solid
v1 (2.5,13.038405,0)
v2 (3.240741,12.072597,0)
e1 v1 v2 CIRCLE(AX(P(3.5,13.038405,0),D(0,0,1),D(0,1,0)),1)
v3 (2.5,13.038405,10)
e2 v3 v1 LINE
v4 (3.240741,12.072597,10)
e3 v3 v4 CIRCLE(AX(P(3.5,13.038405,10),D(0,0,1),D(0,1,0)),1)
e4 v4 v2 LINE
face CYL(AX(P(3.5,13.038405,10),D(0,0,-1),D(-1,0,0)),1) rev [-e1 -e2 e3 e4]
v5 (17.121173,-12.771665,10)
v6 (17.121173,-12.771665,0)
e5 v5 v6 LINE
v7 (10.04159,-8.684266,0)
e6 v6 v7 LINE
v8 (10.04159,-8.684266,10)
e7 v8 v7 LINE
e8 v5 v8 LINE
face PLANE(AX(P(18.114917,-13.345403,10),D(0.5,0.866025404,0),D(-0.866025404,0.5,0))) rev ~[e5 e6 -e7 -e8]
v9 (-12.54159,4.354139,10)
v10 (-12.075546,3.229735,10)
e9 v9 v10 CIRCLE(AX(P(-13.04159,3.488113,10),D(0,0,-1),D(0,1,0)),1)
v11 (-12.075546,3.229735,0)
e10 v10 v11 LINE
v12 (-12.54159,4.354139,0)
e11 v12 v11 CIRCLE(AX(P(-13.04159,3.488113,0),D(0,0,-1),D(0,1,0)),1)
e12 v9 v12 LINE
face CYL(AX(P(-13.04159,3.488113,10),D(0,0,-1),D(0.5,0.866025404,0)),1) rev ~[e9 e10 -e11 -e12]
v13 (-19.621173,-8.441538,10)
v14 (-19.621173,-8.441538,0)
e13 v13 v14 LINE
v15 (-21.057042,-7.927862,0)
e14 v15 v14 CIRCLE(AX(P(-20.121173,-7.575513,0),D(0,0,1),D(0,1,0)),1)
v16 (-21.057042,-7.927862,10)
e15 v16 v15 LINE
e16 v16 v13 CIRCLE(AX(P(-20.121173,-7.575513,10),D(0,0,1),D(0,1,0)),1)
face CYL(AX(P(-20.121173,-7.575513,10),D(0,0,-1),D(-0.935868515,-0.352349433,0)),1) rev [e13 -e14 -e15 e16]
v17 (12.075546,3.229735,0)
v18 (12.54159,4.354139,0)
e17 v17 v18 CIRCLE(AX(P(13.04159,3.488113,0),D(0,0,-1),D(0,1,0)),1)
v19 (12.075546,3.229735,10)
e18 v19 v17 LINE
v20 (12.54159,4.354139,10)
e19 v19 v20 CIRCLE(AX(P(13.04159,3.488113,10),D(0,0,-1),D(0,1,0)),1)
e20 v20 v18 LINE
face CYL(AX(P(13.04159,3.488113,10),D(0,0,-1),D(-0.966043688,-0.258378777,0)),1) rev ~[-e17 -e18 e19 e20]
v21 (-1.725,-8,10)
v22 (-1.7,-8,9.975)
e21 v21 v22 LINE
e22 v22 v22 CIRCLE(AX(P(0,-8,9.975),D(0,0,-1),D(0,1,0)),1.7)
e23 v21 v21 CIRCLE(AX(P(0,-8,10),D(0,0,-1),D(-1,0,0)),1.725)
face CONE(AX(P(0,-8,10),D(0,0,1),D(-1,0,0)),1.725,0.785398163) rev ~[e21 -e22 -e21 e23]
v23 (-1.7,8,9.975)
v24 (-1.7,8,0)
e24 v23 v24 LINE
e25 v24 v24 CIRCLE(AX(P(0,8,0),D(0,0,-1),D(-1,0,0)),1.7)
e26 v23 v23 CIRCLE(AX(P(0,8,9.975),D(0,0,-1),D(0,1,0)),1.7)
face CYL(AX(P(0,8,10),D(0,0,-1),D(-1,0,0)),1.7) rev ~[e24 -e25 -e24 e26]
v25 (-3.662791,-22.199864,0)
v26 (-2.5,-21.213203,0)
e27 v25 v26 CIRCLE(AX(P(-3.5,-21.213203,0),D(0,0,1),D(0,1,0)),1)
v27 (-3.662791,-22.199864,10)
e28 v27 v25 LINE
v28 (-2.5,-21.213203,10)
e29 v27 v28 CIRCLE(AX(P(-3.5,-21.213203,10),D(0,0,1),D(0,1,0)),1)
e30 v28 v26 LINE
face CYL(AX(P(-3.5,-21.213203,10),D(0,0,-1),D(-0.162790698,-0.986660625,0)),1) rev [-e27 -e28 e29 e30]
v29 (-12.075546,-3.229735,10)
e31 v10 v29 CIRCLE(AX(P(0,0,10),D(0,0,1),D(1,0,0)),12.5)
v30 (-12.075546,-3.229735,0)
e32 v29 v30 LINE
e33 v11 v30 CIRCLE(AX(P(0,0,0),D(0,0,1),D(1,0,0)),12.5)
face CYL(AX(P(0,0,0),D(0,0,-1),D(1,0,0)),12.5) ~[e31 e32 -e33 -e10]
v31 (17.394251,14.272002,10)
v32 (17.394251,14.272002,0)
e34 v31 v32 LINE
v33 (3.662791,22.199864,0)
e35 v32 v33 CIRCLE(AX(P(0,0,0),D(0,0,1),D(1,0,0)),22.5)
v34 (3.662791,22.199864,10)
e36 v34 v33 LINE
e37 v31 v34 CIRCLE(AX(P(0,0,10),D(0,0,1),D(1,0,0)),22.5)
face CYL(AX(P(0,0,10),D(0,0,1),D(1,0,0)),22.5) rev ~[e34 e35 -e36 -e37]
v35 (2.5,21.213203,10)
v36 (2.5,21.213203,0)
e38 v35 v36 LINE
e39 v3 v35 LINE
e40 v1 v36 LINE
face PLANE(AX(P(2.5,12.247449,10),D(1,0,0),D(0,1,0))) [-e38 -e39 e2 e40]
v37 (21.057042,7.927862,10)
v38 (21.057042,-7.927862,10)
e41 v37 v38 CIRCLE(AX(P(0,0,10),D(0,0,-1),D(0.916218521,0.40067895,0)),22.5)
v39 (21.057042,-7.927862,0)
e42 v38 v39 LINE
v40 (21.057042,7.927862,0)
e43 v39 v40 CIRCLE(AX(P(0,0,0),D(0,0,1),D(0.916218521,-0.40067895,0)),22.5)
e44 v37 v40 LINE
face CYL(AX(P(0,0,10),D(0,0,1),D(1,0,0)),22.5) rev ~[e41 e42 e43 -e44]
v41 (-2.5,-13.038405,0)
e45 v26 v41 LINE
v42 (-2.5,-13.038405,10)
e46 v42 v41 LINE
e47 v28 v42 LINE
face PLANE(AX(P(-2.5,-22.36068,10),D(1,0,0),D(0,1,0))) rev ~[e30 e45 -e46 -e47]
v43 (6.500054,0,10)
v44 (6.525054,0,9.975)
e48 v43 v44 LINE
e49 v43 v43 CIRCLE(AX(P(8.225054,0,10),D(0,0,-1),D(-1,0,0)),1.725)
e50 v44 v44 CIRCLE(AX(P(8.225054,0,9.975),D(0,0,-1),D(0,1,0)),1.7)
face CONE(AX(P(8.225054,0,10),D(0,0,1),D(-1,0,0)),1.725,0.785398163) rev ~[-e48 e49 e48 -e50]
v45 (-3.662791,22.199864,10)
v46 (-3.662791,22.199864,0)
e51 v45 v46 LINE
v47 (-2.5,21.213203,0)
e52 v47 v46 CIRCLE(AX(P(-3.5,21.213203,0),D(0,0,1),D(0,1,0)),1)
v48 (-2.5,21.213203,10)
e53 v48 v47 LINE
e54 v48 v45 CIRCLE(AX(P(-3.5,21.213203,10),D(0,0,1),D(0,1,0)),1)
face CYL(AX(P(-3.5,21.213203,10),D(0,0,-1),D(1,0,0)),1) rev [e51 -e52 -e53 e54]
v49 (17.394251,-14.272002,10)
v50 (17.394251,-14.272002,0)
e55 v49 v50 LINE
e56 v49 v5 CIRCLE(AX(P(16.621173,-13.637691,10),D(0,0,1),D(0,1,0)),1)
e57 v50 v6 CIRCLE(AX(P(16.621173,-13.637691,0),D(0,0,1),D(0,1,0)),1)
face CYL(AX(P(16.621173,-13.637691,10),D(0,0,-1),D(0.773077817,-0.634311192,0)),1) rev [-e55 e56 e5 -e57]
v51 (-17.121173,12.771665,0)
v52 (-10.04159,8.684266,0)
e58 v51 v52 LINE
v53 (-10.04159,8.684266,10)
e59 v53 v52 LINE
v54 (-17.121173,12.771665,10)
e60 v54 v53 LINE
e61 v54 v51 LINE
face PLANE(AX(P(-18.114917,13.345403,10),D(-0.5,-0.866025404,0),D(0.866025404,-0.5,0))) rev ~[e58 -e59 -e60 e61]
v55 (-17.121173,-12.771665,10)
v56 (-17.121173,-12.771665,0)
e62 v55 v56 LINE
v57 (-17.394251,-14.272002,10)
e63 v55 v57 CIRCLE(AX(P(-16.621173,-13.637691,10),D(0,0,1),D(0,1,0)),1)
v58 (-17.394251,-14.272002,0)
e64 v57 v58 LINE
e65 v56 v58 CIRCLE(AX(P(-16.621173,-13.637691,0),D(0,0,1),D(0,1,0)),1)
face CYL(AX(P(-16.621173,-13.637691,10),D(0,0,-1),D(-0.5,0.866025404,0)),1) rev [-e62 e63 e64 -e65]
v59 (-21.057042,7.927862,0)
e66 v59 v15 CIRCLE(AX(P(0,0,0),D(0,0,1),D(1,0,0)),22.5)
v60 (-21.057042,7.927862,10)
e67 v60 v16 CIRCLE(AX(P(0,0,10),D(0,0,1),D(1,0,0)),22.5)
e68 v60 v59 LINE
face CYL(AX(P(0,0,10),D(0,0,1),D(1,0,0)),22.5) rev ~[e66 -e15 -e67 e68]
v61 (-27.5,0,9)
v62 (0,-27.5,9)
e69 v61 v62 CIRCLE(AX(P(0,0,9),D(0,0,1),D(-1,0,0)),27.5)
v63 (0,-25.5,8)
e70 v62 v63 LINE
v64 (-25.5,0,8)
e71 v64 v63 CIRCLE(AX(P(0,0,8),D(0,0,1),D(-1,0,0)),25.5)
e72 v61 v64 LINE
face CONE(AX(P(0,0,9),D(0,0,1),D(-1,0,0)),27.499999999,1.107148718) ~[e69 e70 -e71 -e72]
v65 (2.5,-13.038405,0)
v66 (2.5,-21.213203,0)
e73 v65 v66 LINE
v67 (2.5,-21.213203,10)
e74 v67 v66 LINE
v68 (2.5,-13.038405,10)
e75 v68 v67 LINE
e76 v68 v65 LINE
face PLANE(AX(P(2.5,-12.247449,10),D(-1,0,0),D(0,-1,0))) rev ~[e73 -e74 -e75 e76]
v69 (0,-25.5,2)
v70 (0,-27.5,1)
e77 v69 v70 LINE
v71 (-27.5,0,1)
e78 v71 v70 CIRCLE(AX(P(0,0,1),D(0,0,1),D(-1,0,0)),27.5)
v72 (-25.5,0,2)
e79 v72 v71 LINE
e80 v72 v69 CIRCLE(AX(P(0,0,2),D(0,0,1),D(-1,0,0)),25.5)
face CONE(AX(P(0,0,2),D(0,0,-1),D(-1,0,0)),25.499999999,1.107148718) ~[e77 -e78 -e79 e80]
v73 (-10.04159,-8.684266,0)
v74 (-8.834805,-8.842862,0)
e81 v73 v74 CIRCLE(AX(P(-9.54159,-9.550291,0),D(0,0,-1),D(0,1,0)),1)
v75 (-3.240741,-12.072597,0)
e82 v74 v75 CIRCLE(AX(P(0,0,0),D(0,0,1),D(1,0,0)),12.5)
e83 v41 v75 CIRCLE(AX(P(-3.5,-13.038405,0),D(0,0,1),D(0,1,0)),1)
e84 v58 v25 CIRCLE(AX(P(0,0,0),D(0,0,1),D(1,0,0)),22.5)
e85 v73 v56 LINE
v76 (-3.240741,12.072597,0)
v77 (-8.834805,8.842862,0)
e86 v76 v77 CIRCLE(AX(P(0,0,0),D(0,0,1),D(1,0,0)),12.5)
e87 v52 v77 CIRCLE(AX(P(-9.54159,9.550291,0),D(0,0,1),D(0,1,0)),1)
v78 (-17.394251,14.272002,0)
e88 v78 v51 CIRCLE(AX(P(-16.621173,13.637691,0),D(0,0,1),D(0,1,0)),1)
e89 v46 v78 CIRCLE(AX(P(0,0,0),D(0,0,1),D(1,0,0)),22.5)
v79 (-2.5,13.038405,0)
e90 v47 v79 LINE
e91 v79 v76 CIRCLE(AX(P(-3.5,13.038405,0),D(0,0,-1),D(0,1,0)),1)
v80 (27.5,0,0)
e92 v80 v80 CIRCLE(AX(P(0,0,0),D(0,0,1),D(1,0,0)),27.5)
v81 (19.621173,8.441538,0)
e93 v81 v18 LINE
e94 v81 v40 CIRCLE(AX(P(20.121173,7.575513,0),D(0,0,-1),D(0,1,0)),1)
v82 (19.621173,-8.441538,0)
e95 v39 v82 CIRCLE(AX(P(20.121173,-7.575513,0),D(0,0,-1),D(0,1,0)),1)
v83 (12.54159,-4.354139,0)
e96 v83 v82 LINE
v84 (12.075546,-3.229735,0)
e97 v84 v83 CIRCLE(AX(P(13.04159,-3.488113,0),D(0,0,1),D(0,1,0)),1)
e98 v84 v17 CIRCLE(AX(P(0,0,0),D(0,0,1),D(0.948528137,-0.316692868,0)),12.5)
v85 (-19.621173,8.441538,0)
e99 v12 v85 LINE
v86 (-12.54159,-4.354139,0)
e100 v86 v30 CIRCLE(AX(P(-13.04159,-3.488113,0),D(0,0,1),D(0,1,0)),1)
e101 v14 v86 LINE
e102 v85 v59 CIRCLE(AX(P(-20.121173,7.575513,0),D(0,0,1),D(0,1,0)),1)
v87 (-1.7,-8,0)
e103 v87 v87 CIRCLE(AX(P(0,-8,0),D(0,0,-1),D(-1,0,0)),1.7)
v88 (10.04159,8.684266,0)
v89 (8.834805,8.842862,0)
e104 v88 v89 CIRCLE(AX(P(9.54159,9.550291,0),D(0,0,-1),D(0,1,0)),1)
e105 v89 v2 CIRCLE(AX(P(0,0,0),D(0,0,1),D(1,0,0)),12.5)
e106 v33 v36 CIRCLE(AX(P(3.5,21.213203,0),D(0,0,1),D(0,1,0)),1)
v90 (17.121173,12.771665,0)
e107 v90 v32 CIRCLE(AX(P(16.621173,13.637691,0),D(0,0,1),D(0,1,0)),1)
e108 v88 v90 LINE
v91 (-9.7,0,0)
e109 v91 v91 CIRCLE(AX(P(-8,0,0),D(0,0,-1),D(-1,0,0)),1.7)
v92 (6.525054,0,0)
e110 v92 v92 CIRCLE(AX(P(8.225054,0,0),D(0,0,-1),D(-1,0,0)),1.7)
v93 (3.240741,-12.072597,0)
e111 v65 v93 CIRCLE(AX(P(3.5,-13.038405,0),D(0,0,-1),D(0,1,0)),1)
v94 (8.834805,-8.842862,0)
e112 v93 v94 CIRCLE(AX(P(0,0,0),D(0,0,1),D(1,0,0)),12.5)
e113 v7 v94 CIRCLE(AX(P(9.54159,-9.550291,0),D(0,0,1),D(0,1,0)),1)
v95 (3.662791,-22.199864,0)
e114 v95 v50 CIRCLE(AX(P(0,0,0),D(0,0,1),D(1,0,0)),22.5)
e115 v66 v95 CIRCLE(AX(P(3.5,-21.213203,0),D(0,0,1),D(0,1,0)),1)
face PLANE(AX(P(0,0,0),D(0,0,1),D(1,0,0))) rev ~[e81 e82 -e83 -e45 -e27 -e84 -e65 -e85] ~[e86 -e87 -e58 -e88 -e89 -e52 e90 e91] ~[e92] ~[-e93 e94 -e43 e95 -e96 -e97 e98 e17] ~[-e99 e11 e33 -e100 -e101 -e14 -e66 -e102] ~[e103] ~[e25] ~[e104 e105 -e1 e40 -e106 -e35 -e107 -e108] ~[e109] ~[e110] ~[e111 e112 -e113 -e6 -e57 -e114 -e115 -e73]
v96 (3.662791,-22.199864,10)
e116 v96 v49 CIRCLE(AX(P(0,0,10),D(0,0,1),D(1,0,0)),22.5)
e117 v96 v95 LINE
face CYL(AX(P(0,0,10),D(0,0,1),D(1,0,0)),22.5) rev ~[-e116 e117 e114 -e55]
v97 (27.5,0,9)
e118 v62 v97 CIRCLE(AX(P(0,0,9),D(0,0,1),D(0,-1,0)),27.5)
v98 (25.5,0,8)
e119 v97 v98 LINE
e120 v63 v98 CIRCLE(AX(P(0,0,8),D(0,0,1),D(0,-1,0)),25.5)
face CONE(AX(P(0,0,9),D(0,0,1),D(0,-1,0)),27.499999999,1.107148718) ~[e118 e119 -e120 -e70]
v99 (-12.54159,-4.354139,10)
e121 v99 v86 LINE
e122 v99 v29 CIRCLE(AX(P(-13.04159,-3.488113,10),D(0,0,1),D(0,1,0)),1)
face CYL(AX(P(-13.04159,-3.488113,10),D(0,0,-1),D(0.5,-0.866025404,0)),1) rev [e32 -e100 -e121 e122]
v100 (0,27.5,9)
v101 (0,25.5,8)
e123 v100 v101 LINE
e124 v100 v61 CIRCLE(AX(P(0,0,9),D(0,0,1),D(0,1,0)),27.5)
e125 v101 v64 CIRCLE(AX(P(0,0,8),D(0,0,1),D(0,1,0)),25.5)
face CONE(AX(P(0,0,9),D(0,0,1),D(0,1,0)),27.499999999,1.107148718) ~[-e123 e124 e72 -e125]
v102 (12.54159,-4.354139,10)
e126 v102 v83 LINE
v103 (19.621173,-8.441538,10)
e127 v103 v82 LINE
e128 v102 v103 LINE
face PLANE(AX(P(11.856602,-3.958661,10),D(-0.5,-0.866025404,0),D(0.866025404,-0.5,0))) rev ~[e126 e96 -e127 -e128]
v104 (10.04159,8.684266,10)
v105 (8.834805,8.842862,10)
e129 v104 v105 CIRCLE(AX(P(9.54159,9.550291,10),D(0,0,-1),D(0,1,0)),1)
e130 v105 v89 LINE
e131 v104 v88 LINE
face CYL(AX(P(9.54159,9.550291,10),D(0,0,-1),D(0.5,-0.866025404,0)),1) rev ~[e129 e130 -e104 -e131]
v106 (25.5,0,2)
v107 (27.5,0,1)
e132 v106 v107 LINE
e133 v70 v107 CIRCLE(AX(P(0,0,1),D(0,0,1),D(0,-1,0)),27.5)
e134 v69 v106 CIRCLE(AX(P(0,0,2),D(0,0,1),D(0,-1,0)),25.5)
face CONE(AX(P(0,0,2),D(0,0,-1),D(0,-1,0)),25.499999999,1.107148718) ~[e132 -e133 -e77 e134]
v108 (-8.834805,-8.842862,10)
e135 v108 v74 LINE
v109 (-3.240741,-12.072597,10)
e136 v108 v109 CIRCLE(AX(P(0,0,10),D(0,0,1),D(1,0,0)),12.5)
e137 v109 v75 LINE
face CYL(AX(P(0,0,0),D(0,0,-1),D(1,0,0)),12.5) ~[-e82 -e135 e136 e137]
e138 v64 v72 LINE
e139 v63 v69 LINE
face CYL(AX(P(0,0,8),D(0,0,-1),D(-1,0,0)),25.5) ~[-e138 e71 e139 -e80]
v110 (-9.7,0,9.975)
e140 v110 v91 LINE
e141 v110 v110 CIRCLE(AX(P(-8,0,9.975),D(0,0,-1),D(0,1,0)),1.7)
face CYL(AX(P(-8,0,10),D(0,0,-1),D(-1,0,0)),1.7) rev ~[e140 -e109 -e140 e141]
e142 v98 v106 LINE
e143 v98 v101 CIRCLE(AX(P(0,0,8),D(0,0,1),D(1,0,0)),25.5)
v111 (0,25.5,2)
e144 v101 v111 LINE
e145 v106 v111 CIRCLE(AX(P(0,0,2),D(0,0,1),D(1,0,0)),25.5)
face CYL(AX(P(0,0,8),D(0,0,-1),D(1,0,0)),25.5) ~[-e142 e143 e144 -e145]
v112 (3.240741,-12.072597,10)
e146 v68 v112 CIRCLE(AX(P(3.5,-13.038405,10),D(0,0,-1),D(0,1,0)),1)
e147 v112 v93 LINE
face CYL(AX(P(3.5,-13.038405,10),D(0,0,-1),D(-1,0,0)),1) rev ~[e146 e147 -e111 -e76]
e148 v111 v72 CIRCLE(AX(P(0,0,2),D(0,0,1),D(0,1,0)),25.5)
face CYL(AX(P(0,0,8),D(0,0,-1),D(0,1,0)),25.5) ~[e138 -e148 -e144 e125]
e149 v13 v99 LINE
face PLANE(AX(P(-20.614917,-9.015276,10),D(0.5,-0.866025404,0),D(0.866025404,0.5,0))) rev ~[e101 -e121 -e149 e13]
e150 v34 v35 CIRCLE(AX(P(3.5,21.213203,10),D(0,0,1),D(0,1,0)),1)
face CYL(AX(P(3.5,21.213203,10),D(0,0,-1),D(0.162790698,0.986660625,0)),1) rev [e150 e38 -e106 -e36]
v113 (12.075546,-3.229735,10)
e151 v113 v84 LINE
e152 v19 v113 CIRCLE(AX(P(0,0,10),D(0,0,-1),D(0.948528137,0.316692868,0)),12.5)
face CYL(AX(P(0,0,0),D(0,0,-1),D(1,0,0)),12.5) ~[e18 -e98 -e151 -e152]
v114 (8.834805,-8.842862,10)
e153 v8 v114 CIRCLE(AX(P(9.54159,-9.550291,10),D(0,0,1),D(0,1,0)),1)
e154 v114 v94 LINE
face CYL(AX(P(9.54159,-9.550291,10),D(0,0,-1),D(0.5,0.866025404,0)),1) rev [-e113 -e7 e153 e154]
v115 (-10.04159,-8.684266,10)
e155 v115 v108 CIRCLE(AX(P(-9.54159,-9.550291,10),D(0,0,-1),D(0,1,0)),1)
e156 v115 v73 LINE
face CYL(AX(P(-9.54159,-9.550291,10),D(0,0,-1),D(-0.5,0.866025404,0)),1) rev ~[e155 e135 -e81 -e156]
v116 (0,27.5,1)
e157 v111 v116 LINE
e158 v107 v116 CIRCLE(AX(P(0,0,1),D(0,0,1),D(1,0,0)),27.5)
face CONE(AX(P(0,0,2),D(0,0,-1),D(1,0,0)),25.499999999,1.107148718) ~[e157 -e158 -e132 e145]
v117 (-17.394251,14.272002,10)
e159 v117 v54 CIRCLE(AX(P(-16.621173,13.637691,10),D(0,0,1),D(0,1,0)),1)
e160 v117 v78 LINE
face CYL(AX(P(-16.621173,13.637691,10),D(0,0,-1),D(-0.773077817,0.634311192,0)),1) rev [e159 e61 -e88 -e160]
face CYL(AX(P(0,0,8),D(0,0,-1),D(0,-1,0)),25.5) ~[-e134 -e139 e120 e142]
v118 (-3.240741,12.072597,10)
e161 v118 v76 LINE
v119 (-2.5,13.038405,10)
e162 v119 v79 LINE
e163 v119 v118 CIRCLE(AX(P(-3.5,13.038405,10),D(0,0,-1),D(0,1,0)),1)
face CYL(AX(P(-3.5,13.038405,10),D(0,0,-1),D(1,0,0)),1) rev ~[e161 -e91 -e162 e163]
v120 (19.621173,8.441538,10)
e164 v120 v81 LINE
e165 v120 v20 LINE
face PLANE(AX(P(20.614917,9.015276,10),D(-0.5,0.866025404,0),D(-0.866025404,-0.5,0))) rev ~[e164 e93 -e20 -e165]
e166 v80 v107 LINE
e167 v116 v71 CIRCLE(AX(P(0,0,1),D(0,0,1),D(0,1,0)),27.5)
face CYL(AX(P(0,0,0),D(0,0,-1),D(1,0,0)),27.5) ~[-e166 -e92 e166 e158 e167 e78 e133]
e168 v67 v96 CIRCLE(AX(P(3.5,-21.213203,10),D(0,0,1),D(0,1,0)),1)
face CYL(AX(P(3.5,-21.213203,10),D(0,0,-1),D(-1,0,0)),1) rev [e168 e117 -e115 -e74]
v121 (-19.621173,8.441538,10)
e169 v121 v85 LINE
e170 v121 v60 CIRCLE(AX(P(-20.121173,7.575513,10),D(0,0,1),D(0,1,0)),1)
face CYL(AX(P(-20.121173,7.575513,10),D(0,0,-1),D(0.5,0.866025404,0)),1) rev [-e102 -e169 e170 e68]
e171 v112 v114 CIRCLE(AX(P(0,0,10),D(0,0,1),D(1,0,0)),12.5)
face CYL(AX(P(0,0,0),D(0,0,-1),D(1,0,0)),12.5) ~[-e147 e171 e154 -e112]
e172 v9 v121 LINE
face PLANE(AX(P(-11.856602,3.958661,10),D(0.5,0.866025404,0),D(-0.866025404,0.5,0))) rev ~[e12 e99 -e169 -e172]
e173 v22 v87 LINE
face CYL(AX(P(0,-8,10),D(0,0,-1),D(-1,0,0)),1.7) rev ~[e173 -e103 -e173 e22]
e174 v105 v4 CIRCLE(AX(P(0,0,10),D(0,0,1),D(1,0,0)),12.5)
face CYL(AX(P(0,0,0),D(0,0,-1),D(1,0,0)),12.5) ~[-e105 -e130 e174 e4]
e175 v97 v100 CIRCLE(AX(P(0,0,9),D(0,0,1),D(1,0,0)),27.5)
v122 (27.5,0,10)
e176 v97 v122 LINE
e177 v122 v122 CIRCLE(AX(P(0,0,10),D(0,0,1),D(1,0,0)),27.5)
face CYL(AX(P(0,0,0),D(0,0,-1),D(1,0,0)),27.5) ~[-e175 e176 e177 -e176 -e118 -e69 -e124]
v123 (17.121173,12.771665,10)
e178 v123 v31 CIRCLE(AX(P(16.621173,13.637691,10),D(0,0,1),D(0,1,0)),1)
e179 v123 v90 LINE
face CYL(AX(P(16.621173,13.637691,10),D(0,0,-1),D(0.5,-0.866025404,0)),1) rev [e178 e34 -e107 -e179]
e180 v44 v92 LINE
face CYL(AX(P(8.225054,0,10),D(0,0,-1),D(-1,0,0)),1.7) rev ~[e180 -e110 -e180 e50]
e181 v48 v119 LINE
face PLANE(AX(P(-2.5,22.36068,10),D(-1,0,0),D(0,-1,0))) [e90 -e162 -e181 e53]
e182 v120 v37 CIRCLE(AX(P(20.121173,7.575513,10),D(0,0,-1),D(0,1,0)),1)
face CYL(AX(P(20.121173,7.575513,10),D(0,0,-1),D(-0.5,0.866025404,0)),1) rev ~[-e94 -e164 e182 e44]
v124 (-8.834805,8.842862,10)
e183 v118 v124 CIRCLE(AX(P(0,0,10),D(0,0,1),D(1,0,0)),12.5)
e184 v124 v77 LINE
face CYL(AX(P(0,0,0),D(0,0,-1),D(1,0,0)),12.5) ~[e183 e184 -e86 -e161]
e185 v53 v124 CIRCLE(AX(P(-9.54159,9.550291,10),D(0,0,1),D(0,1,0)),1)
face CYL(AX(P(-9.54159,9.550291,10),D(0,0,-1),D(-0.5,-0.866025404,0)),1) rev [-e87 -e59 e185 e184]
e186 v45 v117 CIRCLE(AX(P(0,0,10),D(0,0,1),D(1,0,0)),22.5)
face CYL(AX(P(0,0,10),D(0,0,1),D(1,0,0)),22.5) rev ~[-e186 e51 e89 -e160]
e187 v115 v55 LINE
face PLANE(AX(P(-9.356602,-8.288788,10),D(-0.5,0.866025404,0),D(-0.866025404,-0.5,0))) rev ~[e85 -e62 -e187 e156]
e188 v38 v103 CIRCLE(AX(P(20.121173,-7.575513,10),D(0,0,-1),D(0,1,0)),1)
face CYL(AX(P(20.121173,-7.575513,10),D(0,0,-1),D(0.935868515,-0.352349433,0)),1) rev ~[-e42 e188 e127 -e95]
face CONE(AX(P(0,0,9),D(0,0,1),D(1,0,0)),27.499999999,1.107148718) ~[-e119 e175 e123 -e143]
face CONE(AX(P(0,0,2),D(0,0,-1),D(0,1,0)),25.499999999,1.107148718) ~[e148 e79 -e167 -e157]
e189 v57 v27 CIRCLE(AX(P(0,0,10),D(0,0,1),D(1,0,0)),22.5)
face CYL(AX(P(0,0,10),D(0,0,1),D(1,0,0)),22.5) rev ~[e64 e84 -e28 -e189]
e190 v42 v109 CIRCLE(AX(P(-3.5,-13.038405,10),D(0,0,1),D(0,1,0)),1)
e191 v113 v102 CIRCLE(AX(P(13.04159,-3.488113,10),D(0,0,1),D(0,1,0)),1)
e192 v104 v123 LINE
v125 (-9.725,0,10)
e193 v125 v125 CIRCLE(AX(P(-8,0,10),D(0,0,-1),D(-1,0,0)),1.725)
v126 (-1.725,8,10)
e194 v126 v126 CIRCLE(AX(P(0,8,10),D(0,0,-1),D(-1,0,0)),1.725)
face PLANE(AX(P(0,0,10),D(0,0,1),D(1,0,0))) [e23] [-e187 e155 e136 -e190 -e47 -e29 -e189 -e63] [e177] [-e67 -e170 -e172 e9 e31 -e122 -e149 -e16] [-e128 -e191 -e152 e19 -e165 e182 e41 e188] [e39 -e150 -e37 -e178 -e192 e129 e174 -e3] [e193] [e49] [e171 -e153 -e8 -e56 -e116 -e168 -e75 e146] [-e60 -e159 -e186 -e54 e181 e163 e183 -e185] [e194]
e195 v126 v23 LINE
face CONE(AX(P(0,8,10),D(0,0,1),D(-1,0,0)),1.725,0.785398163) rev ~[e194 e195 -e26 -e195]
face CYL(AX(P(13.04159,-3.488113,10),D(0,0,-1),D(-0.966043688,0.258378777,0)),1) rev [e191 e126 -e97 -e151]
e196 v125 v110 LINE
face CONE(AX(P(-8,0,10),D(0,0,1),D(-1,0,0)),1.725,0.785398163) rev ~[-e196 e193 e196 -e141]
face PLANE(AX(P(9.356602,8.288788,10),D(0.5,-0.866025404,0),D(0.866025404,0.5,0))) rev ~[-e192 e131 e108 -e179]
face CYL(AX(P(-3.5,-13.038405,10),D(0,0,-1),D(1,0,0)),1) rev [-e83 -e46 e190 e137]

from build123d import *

# Parameters (mm, degrees)
SKETCH_1_R                  = 27.5
EXTRUDE_1_DEPTH             = 10
CUT_EXTRUDE_1_REACH         = 42.156
SKETCH_2_R                  = 22.5
SKETCH_3_R                  = 12.5
EXTRUDE_2_DEPTH             = 10
EXTRUDE_START               = 10
EXTRUDE_3_DEPTH             = 10
HOLE_WIZARD_M32_D           = 3.4
HOLE_WIZARD_M32_CSINK_D     = 3.45
HOLE_WIZARD_M32_CSINK_ANGLE = 90
FILLET_1_R                  = 1


with BuildPart() as part:
    # Эскиз1 → Бобышка-Вытянуть1 (new body)
    with BuildSketch(Plane.XY):
        Circle(SKETCH_1_R)
    extrude(amount=EXTRUDE_1_DEPTH)

    # Эскиз2 → Вырез-Вытянуть1 (cut, up to next)
    with BuildSketch(Plane.XY.offset(10), mode=Mode.PRIVATE) as cut_extrude_1_sk1:
        Circle(SKETCH_2_R)
    cut_extrude_1_tool1 = extrude(cut_extrude_1_sk1.sketch, amount=-CUT_EXTRUDE_1_REACH, mode=Mode.PRIVATE) & part.part
    add(cut_extrude_1_tool1.solids().sort_by_distance((0, 0, 10))[0], mode=Mode.SUBTRACT)



with BuildPart() as body_2:
    # Эскиз3 → Бобышка-Вытянуть2 (new body)
    with BuildSketch(Plane.XY):
        Circle(SKETCH_3_R)
    extrude(amount=EXTRUDE_2_DEPTH)


with BuildPart() as part_1:
    add(part.part)

    add(body_2.part)  # Бобышка-Вытянуть3 merges body 2
    # Эскиз5 → Бобышка-Вытянуть3 (add)
    with BuildSketch(Plane.XY.offset(EXTRUDE_START)):
        with BuildLine():
            Line((9.356601718, 8.288787866), (18.114916731, 13.345403397))
            ThreePointArc((18.114916731, 13.345403397), (19.485571585, 11.25), (20.614916731, 9.015276378))
            Line((20.614916731, 9.015276378), (11.856601718, 3.958660847))
            ThreePointArc((11.856601718, 3.958660847), (10.825317547, 6.25), (9.356601718, 8.288787866))
        make_face()
        with BuildLine():
            Line((2.5, 12.247448714), (2.5, 22.360679775))
            ThreePointArc((2.5, 22.360679775), (0, 22.5), (-2.5, 22.360679775))
            Line((-2.5, 22.360679775), (-2.5, 12.247448714))
            ThreePointArc((-2.5, 12.247448714), (0, 12.5), (2.5, 12.247448714))
        make_face()
        with BuildLine():
            Line((11.856601718, -3.958660847), (20.614916731, -9.015276378))
            ThreePointArc((20.614916731, -9.015276378), (19.485571585, -11.25), (18.114916731, -13.345403397))
            Line((18.114916731, -13.345403397), (9.356601718, -8.288787866))
            ThreePointArc((9.356601718, -8.288787866), (10.825317547, -6.25), (11.856601718, -3.958660847))
        make_face()
        with BuildLine():
            Line((2.5, -12.247448714), (2.5, -22.360679775))
            ThreePointArc((2.5, -22.360679775), (0, -22.5), (-2.5, -22.360679775))
            Line((-2.5, -22.360679775), (-2.5, -12.247448714))
            ThreePointArc((-2.5, -12.247448714), (0, -12.5), (2.5, -12.247448714))
        make_face()
        with BuildLine():
            Line((-9.356601718, -8.288787866), (-18.114916731, -13.345403397))
            ThreePointArc((-18.114916731, -13.345403397), (-19.485571585, -11.25), (-20.614916731, -9.015276378))
            Line((-20.614916731, -9.015276378), (-11.856601718, -3.958660847))
            ThreePointArc((-11.856601718, -3.958660847), (-10.825317547, -6.25), (-9.356601718, -8.288787866))
        make_face()
        with BuildLine():
            Line((-11.856601718, 3.958660847), (-20.614916731, 9.015276378))
            ThreePointArc((-20.614916731, 9.015276378), (-19.485571585, 11.25), (-18.114916731, 13.345403397))
            Line((-18.114916731, 13.345403397), (-9.356601718, 8.288787866))
            ThreePointArc((-9.356601718, 8.288787866), (-10.825317547, 6.25), (-11.856601718, 3.958660847))
        make_face()
    extrude(amount=-EXTRUDE_3_DEPTH)

    # Отверстие с зазором M32 (through all)
    with Locations(Plane.XY.offset(10)):
        with Locations((-8, 0), (0, 8), (8.225054206, 0), (0, -8)):
            CounterSinkHole(HOLE_WIZARD_M32_D / 2, HOLE_WIZARD_M32_CSINK_D / 2, counter_sink_angle=HOLE_WIZARD_M32_CSINK_ANGLE)

    # Скругление1
    fillet_1_edges = [part_1.edges().sort_by_distance(p)[0] for p in [
        (-2.5, 12.247448714, 5),
        (2.5, 12.247448714, 5),
        (2.5, 22.360679775, 5),
        (-2.5, 22.360679775, 5),
        (9.356601718, 8.288787866, 5),
        (11.856601718, 3.958660847, 5),
        (20.614916731, 9.015276378, 5),
        (18.114916731, 13.345403397, 5),
        (11.856601718, -3.958660847, 5),
        (9.356601718, -8.288787866, 5),
        (18.114916731, -13.345403397, 5),
        (20.614916731, -9.015276378, 5),
        (2.5, -12.247448714, 5),
        (-2.5, -12.247448714, 5),
        (-2.5, -22.360679775, 5),
        (2.5, -22.360679775, 5),
        (-9.356601718, -8.288787866, 5),
        (-11.856601718, -3.958660847, 5),
        (-20.614916731, -9.015276378, 5),
        (-18.114916731, -13.345403397, 5),
        (-11.856601718, 3.958660847, 5),
        (-9.356601718, 8.288787866, 5),
        (-18.114916731, 13.345403397, 5),
        (-20.614916731, 9.015276378, 5),
    ]]
    fillet(fillet_1_edges, radius=FILLET_1_R)

    # Вырез-По траектории2: sweep along a curve in space
    with BuildLine() as sweep_2_path:
        ThreePointArc((27.5, 0, 10), (19.445436483, 19.445436483, 10), (0, 27.5, 10))
        ThreePointArc((0, 27.5, 10), (-19.445436483, 19.445436483, 10), (-27.5, 0, 10))
        ThreePointArc((-27.5, 0, 10), (-19.445436483, -19.445436483, 10), (0, -27.5, 10))
        ThreePointArc((0, -27.5, 10), (19.445436483, -19.445436483, 10), (27.5, 0, 10))
    # Эскиз13 → Вырез-По траектории2 (sweep, cut)
    with BuildSketch(Plane(origin=(0, 0, 0), x_dir=(0, 0, -1), z_dir=(1, 0, 0))):
        Polygon((-8, 25.5), (-2, 25.5), (-1, 27.5), (-9, 27.5), align=None)
    sweep(path=sweep_2_path.line, mode=Mode.SUBTRACT)


solid = part_1.part
